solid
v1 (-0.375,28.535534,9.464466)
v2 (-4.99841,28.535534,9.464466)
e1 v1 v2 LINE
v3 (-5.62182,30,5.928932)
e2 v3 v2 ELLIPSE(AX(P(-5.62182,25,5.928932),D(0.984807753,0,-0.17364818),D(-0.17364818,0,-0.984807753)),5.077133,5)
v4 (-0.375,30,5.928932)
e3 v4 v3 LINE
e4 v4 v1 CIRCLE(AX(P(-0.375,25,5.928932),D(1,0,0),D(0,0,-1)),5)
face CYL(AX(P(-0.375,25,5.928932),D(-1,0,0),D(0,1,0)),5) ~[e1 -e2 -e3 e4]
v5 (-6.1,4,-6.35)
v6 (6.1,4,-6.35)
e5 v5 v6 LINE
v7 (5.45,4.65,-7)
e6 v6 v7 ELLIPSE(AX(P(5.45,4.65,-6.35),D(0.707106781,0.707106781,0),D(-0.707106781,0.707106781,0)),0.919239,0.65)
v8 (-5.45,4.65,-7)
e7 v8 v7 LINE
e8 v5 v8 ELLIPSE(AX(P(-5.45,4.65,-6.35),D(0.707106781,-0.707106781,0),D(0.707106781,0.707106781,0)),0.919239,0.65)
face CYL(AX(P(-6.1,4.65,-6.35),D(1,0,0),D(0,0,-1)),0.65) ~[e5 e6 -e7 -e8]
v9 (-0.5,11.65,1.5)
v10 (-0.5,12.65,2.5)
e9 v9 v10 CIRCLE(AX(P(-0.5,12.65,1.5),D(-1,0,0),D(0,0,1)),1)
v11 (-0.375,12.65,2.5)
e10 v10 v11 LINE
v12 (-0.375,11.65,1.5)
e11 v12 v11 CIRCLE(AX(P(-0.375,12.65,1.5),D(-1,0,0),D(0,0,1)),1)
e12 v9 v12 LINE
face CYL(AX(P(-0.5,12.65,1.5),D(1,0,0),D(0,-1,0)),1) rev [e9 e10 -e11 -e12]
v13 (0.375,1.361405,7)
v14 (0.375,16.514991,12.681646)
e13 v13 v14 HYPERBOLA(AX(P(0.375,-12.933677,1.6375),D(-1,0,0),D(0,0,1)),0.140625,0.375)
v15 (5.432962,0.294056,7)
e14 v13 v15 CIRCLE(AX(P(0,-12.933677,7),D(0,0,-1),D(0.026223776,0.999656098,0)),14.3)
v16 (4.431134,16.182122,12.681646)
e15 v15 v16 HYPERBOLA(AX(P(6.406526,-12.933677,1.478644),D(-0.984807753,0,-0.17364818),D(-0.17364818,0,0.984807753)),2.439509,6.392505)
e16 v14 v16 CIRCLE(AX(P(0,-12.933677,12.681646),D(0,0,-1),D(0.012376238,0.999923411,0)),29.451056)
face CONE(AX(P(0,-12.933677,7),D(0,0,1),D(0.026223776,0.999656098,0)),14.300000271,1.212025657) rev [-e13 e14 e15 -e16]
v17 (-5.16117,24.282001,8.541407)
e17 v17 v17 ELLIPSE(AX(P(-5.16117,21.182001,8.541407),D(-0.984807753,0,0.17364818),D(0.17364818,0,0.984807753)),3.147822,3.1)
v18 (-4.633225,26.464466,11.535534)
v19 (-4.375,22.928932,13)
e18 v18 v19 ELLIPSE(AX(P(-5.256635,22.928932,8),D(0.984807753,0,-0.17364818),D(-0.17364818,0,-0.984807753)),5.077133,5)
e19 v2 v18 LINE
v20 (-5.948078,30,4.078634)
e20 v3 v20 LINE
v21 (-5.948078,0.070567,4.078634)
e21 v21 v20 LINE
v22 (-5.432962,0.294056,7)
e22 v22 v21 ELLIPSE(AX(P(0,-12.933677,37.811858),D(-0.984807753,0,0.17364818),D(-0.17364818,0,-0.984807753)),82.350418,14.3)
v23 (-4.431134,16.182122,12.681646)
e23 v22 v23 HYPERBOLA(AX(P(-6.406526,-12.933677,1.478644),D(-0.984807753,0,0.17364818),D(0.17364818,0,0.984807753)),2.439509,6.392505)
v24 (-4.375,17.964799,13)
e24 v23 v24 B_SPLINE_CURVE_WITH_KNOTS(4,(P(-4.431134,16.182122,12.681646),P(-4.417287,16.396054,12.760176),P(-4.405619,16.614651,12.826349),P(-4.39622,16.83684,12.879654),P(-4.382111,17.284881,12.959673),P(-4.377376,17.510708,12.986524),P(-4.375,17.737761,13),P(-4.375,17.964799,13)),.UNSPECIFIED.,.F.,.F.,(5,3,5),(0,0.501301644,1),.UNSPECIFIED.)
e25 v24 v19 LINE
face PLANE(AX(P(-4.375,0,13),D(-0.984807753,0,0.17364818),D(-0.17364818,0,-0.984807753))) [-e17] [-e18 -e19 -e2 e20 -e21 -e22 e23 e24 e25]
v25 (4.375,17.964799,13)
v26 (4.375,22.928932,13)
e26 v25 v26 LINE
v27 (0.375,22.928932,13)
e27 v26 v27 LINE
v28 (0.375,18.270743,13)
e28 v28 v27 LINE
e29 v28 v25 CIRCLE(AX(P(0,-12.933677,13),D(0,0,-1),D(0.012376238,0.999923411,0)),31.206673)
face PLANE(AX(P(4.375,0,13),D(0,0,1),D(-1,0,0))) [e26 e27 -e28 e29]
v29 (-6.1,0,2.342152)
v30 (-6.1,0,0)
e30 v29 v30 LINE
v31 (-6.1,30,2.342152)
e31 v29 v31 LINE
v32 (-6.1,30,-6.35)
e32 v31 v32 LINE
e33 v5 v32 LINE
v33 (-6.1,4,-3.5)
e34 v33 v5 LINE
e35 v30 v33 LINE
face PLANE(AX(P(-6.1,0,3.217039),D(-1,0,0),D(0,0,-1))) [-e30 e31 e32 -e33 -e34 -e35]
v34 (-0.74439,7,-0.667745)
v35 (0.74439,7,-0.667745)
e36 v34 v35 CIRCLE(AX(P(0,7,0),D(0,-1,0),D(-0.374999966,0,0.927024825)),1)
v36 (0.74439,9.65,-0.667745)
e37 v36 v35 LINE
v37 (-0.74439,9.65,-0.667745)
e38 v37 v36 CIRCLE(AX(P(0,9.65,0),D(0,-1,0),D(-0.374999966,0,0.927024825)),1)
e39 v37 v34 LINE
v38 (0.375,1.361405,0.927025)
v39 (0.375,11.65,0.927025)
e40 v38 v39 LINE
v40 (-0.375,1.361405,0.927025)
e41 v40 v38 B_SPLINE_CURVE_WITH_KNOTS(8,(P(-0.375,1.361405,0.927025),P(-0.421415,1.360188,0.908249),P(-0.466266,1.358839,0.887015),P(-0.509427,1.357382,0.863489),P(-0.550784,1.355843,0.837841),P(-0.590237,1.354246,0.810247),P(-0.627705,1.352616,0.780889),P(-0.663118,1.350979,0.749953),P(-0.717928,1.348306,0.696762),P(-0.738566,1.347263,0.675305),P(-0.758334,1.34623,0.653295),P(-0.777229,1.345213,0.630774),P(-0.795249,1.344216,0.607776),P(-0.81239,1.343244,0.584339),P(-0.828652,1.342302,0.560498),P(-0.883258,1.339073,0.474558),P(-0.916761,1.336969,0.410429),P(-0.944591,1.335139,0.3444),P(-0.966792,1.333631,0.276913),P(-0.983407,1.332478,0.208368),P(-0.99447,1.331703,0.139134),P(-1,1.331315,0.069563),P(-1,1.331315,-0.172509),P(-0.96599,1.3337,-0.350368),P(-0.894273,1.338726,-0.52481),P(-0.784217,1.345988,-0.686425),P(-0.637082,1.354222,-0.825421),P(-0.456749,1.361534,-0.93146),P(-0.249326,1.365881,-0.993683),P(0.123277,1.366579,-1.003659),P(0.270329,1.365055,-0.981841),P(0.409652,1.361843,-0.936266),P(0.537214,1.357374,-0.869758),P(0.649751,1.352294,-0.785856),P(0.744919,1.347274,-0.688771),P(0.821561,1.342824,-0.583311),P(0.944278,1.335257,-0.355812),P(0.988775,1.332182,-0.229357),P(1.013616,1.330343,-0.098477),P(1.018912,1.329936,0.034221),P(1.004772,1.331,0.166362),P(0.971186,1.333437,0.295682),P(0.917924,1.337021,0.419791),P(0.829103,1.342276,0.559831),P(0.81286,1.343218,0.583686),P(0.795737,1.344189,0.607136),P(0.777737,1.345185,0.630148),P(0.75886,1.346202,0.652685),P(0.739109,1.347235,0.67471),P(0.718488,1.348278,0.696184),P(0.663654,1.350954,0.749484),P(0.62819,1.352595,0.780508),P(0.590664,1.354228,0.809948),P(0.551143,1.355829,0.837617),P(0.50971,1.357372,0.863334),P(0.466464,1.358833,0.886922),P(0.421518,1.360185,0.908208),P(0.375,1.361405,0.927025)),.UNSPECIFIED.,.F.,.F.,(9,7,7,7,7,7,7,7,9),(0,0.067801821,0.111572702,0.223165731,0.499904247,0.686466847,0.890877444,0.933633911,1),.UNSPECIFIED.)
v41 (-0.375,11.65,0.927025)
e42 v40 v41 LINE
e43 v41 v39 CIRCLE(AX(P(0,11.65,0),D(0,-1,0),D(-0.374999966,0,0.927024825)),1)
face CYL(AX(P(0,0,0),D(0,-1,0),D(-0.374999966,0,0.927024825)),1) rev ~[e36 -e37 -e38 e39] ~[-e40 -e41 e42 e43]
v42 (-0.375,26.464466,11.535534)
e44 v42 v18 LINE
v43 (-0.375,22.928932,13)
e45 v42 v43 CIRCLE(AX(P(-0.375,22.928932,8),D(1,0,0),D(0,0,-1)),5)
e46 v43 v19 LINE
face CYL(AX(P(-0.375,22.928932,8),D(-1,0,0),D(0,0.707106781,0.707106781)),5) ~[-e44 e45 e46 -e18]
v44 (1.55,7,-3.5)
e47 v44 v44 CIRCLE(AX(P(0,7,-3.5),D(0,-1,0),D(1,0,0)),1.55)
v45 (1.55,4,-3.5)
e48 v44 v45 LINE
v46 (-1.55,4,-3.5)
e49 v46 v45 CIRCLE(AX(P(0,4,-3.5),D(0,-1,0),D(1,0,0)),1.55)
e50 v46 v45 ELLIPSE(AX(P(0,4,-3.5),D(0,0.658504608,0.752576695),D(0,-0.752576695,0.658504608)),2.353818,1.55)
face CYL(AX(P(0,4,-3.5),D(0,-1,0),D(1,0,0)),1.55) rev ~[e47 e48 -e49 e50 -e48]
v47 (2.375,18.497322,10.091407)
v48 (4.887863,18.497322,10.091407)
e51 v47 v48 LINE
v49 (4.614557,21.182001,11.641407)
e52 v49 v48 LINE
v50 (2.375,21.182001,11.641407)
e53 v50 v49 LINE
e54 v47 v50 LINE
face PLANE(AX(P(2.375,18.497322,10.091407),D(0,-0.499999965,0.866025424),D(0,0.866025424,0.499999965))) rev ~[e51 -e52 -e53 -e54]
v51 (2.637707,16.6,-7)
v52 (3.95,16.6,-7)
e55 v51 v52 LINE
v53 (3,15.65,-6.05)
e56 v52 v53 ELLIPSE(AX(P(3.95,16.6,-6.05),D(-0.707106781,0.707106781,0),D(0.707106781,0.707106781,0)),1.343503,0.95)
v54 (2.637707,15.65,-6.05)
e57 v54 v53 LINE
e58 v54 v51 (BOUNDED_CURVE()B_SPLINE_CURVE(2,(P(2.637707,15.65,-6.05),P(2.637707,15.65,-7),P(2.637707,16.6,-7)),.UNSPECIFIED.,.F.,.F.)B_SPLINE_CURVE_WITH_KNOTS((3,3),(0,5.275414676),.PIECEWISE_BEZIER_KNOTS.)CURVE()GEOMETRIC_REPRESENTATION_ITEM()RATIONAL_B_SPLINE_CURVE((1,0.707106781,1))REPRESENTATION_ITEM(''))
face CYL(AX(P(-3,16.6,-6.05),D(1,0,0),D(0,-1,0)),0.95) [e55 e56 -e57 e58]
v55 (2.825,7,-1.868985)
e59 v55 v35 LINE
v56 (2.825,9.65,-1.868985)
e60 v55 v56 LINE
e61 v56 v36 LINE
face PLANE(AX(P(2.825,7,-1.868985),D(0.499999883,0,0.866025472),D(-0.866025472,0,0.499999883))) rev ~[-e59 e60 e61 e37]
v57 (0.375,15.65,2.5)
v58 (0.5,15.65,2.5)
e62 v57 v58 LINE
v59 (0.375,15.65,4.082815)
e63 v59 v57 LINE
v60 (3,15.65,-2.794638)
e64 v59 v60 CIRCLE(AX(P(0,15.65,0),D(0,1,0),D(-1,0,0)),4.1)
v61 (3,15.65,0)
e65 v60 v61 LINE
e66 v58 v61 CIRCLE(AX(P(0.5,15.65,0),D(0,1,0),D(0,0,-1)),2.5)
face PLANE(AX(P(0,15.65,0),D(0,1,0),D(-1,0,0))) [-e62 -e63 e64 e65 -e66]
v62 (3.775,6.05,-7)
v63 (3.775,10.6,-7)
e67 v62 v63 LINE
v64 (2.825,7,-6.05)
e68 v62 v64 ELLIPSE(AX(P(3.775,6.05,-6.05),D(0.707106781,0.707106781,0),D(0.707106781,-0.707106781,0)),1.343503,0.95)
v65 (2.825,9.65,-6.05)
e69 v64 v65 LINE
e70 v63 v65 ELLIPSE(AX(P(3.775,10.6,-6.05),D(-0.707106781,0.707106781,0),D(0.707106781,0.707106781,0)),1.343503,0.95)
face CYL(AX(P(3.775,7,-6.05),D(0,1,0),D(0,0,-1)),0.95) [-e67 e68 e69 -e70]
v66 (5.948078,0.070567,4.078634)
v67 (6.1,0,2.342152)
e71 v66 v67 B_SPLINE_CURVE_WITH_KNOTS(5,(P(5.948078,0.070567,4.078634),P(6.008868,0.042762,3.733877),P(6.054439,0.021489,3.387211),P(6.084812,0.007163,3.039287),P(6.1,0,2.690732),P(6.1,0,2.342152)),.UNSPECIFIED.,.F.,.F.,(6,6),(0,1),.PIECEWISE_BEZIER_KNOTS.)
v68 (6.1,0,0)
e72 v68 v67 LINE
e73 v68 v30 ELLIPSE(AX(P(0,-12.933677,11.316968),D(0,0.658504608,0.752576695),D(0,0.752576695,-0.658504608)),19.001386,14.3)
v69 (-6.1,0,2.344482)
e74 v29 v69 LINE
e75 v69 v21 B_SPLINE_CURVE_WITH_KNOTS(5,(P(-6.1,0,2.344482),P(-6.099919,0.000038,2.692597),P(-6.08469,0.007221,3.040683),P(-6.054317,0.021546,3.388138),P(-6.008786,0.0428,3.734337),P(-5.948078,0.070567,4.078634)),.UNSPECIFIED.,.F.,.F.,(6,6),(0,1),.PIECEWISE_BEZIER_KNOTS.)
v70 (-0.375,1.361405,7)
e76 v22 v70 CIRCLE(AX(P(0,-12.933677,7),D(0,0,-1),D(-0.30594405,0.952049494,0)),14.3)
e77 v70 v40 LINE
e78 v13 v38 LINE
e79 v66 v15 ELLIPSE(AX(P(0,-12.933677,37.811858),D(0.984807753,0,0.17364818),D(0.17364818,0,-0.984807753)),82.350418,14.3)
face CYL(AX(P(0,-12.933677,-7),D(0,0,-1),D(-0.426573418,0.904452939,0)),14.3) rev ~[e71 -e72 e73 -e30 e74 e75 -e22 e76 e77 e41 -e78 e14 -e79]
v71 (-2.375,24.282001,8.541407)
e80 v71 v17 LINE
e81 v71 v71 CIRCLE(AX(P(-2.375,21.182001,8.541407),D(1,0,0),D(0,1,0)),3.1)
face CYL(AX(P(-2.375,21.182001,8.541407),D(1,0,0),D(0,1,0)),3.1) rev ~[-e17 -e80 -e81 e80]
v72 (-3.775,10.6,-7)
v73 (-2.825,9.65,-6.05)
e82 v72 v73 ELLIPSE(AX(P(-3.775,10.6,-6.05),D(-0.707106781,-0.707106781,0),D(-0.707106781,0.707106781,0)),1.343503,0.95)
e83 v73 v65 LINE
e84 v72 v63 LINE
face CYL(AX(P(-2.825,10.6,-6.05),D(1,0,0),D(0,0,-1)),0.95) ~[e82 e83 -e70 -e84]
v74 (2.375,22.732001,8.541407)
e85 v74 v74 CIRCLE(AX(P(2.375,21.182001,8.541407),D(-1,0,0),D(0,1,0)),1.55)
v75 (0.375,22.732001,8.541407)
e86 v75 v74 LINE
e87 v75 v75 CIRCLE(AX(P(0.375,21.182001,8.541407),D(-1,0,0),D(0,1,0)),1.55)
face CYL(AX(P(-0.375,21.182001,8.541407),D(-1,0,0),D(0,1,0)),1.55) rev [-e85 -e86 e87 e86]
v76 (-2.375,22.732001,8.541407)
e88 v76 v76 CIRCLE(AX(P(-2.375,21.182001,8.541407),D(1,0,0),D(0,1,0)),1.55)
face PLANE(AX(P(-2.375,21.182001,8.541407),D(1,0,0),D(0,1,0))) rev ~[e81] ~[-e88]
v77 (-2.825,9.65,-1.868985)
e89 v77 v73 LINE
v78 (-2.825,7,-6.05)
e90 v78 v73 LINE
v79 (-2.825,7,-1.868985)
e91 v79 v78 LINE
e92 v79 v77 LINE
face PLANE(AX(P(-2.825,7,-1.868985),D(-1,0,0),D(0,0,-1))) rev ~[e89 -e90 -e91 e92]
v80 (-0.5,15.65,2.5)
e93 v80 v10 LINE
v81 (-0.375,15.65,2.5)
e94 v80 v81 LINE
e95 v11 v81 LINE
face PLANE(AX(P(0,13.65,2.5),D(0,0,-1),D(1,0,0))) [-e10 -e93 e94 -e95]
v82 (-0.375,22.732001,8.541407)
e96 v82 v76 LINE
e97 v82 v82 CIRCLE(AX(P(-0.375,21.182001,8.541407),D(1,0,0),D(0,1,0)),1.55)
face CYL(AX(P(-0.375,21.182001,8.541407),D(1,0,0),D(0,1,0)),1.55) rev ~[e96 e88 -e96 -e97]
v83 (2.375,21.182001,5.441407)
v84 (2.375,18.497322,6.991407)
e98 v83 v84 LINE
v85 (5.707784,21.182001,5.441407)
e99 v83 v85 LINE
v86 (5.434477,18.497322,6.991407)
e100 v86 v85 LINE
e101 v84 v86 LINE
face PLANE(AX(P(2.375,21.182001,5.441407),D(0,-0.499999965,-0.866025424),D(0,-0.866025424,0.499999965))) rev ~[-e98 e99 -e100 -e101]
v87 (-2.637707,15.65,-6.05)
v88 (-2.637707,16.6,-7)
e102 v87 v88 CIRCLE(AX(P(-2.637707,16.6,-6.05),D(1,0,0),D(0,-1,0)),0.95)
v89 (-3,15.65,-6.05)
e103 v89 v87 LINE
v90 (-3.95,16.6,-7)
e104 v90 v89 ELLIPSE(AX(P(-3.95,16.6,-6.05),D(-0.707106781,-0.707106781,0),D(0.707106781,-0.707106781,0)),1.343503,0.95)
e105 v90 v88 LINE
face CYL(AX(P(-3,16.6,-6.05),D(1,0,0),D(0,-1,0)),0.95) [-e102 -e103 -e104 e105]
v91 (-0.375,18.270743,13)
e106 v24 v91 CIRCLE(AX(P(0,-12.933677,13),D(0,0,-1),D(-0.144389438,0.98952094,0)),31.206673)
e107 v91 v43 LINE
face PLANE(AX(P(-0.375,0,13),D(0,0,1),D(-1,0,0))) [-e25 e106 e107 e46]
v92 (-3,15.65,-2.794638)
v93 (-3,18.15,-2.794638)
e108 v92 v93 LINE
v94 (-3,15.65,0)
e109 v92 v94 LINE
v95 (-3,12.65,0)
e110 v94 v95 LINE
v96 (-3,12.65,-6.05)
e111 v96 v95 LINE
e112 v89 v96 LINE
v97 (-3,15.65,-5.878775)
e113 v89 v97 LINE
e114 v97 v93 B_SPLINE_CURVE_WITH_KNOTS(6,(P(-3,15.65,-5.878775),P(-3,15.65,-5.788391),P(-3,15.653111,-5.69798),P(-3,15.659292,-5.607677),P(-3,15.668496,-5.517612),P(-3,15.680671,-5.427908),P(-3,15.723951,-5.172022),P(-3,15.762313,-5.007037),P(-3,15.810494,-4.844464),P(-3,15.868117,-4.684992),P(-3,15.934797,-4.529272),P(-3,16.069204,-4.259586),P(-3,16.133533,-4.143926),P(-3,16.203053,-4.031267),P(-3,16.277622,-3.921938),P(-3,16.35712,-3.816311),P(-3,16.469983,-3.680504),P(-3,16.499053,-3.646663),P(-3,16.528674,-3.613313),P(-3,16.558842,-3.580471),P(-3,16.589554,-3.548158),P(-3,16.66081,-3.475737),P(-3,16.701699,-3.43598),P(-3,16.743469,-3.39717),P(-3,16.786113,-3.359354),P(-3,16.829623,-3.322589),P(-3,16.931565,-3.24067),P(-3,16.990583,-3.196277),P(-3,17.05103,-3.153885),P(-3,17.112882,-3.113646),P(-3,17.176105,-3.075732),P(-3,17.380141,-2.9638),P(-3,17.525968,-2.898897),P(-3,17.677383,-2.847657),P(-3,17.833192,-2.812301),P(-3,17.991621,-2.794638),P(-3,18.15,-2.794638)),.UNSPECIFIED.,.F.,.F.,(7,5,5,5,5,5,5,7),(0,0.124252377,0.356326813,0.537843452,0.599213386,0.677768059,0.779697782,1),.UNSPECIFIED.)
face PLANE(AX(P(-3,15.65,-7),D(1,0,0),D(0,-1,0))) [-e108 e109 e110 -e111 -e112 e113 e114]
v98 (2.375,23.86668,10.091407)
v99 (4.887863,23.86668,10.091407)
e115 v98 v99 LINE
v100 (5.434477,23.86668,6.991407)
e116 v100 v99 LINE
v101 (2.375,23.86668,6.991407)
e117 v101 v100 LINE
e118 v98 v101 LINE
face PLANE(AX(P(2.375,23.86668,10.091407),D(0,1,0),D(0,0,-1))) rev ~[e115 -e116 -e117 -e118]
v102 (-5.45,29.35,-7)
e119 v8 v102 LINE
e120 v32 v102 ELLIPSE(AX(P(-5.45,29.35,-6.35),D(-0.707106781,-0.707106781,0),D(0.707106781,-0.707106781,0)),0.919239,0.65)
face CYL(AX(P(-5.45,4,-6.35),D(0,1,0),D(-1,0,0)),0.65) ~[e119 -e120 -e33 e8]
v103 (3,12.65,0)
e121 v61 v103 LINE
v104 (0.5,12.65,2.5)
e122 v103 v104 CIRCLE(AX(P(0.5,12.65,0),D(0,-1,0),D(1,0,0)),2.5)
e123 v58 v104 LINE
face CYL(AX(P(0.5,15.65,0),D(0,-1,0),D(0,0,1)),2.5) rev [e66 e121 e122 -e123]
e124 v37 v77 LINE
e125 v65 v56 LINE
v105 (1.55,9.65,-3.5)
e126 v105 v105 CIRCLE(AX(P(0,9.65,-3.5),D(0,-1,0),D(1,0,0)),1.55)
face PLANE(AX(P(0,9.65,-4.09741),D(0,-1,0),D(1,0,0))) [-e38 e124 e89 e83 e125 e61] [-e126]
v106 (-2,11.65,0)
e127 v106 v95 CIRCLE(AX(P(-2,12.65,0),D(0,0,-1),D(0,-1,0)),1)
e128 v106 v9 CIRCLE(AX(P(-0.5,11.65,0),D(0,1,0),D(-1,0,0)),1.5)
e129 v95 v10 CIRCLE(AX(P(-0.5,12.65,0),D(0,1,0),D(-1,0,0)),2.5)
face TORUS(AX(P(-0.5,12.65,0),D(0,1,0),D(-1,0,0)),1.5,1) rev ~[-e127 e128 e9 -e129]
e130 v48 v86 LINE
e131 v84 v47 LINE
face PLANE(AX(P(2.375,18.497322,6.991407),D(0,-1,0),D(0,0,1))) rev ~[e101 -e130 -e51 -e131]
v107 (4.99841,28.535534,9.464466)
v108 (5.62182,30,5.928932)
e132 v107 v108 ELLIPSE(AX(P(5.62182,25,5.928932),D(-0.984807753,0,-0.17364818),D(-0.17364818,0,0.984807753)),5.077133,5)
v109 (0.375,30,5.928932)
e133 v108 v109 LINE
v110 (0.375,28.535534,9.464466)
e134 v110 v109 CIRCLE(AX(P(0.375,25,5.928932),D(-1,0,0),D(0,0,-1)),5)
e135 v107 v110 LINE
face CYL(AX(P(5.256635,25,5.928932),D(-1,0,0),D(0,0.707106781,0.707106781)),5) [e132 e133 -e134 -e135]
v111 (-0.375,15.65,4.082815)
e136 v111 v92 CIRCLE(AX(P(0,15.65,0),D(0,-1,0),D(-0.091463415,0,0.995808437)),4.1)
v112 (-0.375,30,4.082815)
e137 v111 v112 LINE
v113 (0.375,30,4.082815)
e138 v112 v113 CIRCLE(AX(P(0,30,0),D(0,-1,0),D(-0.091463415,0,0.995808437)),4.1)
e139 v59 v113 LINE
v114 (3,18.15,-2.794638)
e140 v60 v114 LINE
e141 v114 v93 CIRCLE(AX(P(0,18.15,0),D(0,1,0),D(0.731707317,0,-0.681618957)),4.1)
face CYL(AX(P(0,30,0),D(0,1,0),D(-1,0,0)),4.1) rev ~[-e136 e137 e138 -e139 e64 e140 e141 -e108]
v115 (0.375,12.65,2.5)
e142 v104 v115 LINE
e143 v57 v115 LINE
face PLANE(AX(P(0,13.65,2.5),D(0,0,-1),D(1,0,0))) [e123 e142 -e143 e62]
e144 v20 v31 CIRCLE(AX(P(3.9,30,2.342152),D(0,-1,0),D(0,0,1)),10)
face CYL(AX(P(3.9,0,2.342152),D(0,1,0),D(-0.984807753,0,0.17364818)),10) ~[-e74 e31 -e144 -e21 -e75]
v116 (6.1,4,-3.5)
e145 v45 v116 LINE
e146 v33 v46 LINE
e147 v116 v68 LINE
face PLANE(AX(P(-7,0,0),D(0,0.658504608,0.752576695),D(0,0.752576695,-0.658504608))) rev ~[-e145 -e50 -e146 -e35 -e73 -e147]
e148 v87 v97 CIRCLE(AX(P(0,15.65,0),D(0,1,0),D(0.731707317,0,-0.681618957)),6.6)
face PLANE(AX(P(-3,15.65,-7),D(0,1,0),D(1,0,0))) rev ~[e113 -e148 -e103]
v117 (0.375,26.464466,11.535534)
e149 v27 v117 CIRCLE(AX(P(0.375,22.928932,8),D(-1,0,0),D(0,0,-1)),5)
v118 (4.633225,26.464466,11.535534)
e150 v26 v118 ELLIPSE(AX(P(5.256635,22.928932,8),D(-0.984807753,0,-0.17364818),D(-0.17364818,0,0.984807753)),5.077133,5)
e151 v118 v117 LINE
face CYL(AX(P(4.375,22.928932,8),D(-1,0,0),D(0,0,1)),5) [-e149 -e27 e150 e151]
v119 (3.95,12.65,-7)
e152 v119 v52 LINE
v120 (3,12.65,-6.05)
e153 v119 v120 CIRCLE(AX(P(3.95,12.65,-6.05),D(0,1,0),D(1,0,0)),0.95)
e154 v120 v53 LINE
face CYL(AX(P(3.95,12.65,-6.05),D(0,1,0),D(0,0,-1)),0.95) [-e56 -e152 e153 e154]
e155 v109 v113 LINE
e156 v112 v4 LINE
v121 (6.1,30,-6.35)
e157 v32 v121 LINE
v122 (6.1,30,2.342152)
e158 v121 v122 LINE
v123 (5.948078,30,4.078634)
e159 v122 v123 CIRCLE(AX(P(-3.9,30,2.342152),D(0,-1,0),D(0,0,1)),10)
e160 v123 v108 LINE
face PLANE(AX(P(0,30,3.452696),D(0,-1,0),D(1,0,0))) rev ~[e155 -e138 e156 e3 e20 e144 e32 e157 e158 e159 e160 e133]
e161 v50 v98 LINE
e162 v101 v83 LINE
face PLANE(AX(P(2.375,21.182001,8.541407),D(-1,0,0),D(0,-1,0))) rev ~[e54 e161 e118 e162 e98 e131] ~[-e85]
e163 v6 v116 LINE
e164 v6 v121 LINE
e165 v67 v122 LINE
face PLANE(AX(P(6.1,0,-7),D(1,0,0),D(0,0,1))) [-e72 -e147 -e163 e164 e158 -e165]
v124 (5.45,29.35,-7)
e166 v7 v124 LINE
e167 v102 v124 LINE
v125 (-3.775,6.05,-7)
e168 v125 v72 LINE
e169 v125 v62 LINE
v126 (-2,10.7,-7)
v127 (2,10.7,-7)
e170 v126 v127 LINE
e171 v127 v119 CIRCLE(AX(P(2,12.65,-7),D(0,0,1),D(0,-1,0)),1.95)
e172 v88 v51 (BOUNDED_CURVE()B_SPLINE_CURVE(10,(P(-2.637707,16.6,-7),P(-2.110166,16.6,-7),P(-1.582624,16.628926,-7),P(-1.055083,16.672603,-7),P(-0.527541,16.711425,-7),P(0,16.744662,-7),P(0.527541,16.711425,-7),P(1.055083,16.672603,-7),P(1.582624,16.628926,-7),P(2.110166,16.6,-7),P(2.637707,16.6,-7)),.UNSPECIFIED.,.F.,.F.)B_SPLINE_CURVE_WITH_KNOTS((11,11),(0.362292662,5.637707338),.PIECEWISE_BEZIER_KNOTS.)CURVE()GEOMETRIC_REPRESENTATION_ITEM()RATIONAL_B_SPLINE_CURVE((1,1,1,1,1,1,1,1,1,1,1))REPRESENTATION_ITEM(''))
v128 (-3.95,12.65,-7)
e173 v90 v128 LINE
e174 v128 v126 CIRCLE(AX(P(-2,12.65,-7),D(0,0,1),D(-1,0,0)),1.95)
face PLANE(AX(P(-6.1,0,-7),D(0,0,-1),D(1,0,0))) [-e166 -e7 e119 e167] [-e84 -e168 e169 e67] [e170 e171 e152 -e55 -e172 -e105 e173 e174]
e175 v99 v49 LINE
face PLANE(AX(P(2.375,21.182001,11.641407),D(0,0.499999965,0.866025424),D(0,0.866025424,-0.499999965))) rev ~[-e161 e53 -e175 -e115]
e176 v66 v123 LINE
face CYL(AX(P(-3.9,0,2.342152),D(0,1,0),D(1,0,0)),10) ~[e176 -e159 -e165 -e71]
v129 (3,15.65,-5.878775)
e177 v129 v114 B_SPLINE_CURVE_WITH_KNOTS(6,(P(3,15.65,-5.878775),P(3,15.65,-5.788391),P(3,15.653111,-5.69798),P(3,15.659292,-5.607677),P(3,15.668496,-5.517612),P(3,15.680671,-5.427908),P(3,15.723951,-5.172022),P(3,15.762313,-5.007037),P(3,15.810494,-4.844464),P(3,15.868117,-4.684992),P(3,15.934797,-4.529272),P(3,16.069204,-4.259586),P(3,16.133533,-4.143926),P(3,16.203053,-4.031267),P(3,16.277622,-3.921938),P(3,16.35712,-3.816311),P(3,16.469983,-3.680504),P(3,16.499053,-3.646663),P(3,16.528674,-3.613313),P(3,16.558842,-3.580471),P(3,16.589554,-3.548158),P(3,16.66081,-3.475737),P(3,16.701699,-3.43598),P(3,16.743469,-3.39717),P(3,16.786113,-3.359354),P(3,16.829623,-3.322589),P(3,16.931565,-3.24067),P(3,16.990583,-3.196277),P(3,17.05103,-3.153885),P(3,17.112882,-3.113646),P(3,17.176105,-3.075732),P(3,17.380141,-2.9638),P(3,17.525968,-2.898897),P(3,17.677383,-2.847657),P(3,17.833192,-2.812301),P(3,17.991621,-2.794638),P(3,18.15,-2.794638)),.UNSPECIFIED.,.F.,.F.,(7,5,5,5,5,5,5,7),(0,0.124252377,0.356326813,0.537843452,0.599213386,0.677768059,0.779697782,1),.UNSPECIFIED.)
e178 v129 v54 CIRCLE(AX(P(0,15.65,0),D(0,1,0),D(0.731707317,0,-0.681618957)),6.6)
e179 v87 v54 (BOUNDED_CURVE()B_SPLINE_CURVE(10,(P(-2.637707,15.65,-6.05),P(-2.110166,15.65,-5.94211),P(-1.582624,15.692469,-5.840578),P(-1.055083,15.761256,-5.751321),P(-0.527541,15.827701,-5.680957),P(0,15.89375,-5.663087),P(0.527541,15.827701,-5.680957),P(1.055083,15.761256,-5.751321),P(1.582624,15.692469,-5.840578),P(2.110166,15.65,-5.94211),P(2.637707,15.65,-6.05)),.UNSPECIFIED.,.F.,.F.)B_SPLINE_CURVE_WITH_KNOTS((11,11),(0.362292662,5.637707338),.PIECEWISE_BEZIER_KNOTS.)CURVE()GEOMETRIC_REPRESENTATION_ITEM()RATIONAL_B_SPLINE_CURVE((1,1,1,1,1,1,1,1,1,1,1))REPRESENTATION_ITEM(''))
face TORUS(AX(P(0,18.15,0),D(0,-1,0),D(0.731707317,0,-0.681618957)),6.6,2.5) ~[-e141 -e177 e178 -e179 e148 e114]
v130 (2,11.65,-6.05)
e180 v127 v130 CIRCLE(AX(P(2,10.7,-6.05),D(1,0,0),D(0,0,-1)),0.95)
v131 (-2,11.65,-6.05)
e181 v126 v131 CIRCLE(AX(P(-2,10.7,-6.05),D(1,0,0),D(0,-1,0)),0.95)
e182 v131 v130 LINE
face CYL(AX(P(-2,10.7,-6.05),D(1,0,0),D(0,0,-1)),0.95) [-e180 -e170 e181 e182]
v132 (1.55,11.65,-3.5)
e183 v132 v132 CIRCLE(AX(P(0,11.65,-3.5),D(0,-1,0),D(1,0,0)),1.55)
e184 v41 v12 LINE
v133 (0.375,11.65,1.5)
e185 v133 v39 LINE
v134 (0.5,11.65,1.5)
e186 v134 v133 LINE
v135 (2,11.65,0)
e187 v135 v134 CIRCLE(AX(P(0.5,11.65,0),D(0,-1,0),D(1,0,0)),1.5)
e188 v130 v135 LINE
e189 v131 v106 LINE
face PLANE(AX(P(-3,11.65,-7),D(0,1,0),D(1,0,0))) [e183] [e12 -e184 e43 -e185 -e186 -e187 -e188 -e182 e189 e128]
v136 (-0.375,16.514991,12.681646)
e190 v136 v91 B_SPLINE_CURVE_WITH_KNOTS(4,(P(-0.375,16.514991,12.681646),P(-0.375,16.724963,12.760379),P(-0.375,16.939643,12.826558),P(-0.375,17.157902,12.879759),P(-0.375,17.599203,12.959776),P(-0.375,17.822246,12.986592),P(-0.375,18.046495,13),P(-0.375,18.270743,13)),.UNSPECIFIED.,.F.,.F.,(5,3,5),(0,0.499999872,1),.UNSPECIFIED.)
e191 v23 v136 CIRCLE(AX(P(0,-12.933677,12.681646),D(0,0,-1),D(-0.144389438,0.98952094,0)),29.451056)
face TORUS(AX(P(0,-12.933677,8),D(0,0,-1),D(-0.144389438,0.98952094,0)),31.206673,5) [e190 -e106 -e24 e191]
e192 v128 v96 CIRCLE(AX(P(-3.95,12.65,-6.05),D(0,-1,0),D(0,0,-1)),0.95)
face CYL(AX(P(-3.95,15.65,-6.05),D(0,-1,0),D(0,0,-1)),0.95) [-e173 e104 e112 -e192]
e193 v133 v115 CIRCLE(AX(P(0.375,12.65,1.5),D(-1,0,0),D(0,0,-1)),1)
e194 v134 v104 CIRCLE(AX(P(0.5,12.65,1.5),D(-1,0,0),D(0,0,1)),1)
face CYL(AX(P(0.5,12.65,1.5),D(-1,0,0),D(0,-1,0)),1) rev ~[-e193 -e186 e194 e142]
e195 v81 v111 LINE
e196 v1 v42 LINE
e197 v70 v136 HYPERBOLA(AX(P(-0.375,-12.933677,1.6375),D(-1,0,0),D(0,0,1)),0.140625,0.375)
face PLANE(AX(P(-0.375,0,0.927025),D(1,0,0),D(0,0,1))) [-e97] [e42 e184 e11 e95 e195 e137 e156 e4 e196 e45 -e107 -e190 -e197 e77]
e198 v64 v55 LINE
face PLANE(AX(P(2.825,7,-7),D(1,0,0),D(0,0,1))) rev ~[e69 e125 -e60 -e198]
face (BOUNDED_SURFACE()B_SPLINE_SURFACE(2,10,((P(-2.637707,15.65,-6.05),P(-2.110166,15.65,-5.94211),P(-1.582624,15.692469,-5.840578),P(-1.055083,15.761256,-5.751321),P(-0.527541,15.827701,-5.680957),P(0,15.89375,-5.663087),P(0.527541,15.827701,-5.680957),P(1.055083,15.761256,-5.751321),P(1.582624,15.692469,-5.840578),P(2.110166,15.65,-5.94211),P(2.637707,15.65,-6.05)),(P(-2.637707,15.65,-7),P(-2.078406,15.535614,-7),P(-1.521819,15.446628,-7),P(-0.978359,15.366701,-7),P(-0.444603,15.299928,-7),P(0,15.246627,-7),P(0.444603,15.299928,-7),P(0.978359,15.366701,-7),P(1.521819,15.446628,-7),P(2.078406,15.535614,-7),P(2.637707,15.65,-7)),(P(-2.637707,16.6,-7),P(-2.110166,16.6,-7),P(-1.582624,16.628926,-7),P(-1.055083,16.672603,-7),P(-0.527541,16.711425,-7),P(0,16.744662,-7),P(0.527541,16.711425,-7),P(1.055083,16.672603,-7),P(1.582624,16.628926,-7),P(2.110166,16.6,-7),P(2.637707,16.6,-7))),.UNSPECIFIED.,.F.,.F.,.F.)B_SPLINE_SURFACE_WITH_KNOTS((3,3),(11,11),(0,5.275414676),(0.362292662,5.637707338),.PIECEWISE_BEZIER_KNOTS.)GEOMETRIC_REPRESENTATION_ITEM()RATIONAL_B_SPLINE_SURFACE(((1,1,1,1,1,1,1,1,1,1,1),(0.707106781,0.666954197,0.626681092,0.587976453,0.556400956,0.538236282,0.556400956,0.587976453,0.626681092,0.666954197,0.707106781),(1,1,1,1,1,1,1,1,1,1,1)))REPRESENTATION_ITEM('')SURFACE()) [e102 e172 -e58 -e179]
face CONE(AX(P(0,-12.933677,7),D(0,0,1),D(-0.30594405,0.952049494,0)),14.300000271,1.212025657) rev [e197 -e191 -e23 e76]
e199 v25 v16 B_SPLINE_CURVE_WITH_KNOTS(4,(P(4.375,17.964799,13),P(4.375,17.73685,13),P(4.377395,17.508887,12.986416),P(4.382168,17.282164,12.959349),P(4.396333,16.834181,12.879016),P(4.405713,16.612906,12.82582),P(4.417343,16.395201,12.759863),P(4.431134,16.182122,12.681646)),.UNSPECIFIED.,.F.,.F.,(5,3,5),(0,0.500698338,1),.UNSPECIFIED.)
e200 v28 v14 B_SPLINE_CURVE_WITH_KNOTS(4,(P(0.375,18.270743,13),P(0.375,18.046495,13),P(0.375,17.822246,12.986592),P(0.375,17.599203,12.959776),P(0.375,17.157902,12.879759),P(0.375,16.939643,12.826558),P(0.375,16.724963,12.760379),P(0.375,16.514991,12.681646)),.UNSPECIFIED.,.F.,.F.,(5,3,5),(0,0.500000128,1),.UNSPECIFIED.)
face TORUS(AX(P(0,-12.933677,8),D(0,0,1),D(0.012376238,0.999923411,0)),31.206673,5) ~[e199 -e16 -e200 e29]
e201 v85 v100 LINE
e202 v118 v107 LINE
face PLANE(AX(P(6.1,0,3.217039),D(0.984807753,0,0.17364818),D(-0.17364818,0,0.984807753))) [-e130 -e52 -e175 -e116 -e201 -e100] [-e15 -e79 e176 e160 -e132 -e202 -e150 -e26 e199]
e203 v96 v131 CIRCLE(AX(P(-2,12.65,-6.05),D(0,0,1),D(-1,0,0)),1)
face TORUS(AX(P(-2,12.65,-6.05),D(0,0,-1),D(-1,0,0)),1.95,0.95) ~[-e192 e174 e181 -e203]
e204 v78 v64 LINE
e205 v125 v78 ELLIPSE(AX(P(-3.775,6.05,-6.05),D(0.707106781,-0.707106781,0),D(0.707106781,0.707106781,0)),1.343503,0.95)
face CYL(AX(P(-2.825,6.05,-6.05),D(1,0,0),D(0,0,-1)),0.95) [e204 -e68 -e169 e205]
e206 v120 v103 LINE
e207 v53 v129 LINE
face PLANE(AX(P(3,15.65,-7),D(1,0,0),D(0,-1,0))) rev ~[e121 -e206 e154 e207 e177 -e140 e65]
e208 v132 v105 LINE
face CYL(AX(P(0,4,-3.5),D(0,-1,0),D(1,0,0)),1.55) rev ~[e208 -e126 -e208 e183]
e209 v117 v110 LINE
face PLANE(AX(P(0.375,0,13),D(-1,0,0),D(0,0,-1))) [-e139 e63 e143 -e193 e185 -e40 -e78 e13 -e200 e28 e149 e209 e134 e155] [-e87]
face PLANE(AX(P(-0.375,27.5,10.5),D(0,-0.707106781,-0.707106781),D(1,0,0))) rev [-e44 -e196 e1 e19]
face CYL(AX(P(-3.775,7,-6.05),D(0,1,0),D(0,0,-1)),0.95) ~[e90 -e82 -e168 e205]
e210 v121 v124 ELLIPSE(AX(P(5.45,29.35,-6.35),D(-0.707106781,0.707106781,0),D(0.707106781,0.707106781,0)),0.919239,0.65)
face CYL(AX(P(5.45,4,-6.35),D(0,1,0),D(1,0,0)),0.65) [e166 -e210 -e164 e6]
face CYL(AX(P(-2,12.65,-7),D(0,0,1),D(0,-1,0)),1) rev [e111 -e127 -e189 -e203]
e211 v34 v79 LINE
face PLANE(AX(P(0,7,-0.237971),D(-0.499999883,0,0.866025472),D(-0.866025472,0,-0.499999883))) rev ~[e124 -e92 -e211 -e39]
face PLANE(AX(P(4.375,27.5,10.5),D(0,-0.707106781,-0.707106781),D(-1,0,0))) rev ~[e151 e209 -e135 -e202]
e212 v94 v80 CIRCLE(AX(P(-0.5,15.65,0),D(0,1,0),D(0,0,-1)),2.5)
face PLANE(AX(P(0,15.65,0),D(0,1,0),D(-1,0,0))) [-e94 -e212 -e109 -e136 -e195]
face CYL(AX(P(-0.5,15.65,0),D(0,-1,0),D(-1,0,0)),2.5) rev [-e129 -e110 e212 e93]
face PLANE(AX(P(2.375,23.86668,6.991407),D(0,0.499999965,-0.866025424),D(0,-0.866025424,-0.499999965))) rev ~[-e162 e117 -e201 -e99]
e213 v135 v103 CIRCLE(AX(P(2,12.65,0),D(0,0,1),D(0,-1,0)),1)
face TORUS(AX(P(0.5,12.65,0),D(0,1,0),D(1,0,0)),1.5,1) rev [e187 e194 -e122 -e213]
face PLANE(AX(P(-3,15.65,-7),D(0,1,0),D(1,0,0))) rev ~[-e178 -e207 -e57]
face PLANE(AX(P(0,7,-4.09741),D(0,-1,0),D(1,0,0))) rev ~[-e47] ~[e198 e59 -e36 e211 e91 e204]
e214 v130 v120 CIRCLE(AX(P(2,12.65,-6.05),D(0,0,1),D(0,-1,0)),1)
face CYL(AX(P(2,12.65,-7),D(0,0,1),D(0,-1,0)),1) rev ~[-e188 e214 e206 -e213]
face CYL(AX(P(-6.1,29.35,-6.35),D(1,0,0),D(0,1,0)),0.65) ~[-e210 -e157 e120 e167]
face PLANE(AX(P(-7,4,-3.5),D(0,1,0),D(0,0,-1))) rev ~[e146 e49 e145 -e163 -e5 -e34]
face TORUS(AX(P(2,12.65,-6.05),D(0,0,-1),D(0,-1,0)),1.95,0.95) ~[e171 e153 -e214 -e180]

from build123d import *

# Parameters (mm, degrees)
EXTRUDE004_DEPTH                     = 10
SKETCH008_R                          = 3.1
EXTRUDE003_DEPTH                     = 10
EXTRUDE002_DEPTH                     = 2.65
EXTRUDE002_ONTO_SKETCH004_ROLL_ANGLE = 90
EXTRUDE001_DEPTH                     = 14
EXTRUDE_DEPTH                        = 30
EXTRUDE_ONTO_SKETCH_ROLL_ANGLE       = 90
FILLET_R                             = 10
POCKET_DEPTH                         = 20.001
SKETCH003_R                          = 1.55
POCKET001_DEPTH                      = 8
SKETCH005_W                          = 6
SKETCH005_H                          = 4
POCKET002_DEPTH                      = 9.5
SKETCH006_R                          = 4.1
POCKET003_DEPTH                      = 14.35
FILLET001_R                          = 2.5
FILLET002_R                          = 1
FILLET003_R                          = 2.5
FILLET004_R                          = 0.95
CHAMFER_SIZE2                        = 16
CHAMFER_SIZE                         = 6
CHAMFER001_SIZE                      = 5
SKETCH007_R                          = 1.55
POCKET004_DEPTH                      = 5.726
POCKET004_DEPTH_BACK                 = 6.476
FILLET005_R                          = 5
FILLET006_R                          = 0.65


with BuildPart() as extrude004:
    # Sketch009 → Extrude004 (new body)
    with BuildSketch(Plane(origin=(0.375, 0, 0), x_dir=(0, -1, 0), z_dir=(-1, 0, 0))):
        Polygon((-21.182001, 11.641407), (-23.86668, 10.091407), (-23.86668, 6.991407), (-21.182001, 5.441407), (-18.497322, 6.991407), (-18.497322, 10.091407), align=None)
    extrude(amount=-EXTRUDE004_DEPTH)


with BuildPart() as extrude004_1:
    # Extrude004 placement: moved
    add(extrude004.part.moved(Location((2, 0, 0))))


with BuildPart() as extrude003:
    # Sketch008 → Extrude003 (new body)
    with BuildSketch(Plane.YZ.offset(-0.375)):
        with Locations((21.182001, 8.541407)):
            Circle(SKETCH008_R)
    extrude(amount=-EXTRUDE003_DEPTH)


with BuildPart() as extrude003_1:
    # Extrude003 placement: moved
    add(extrude003.part.moved(Location((-2, 0, 0))))


with BuildPart() as extrude002:
    # Sketch004 as drawn → Extrude002 (new)
    with BuildSketch(Plane.XY):
        Polygon((0, -0.237971), (-2.825, -1.868985), (-2.825, -7), (2.825, -7), (2.825, -1.868985), align=None)
    extrude(amount=-EXTRUDE002_DEPTH)


with BuildPart() as extrude002_1:
    # Extrude002 onto Sketch004 roll: moved
    add(extrude002.part.rotate(Axis((0, 0, 0), (1, 0, 0)), EXTRUDE002_ONTO_SKETCH004_ROLL_ANGLE))


with BuildPart() as extrude002_2:
    # Extrude002 onto Sketch004 placement: moved
    add(extrude002_1.part.moved(Location((0, 4, 0))))


with BuildPart() as extrude002_3:
    # Extrude002 placement: moved
    add(extrude002_2.part.moved(Location((0, 3, 0))))


with BuildPart() as extrude001:
    # Sketch001 → Extrude001 (new body)
    with BuildSketch(Plane.YZ):
        Polygon((0, -7), (0, 0), (4, -3.5), (4, -7), align=None)
    extrude(amount=EXTRUDE001_DEPTH)


with BuildPart() as extrude001_1:
    # Extrude001 placement: moved
    add(extrude001.part.moved(Location((-7, 0, 0))))


with BuildPart() as fillet006:
    # Sketch as drawn → Extrude (new)
    with BuildSketch(Plane.XY):
        with BuildLine():
            Line((-6.1, -7), (6.1, -7))
            Line((6.1, -7), (6.1, 3.217039))
            Line((6.1, 3.217039), (4.375, 13))
            Line((4.375, 13), (0.375, 13))
            Line((0.375, 13), (0.375, 0.927025))
            ThreePointArc((-0.375, 0.927025), (0, -1), (0.375, 0.927025))
            Line((-0.375, 0.927025), (-0.375, 13))
            Line((-0.375, 13), (-4.375, 13))
            Line((-4.375, 13), (-6.1, 3.217039))
            Line((-6.1, 3.217039), (-6.1, -7))
        make_face()
    extrude(amount=-EXTRUDE_DEPTH)


with BuildPart() as fillet006_1:
    # Extrude onto Sketch roll: moved
    add(fillet006.part.rotate(Axis((0, 0, 0), (1, 0, 0)), EXTRUDE_ONTO_SKETCH_ROLL_ANGLE))


with BuildPart() as fillet006_2:
    # Extrude onto Sketch placement: moved
    add(fillet006_1.part)

    # Fillet
    fillet_edges = [fillet006_2.edges().sort_by_distance(p)[0] for p in [
        (-6.1, 15, 3.217039),
        (6.1, 15, 3.217039),
    ]]
    fillet(fillet_edges, radius=FILLET_R)

    # Sketch002 → Pocket (cut, through all)
    with BuildSketch(Plane(origin=(0, 0, -7), x_dir=(1, 0, 0), z_dir=(0, 0, -1))):
        with BuildLine():
            Line((-6.1, 0), (6.1, 0))
            ThreePointArc((-6.1, 0), (0, -1.366323), (6.1, 0))
        make_face()
    extrude(amount=-POCKET_DEPTH, mode=Mode.SUBTRACT)

    # Cut: cut Extrude001
    add(extrude001_1.part, mode=Mode.SUBTRACT)

    # Sketch003 → Pocket001 (cut, symmetric)
    with BuildSketch(Plane.XZ.offset(-4)):
        with Locations((0, -3.5)):
            Circle(SKETCH003_R)
    extrude(amount=POCKET001_DEPTH, both=True, mode=Mode.SUBTRACT)

    # Cut001: cut Extrude002
    add(extrude002_3.part, mode=Mode.SUBTRACT)

    # Sketch005 → Pocket002 (cut)
    with BuildSketch(Plane(origin=(0, 0, -7), x_dir=(1, 0, 0), z_dir=(0, 0, -1))):
        with Locations((0, -13.65)):
            Rectangle(SKETCH005_W, SKETCH005_H)
    extrude(amount=-POCKET002_DEPTH, mode=Mode.SUBTRACT)

    # Sketch006 → Pocket003 (cut)
    with BuildSketch(Plane(origin=(0, 30, 0), x_dir=(-1, 0, 0), z_dir=(0, 1, 0))):
        Circle(SKETCH006_R)
    extrude(amount=-POCKET003_DEPTH, mode=Mode.SUBTRACT)

    # Fillet001
    fillet001_edges = [fillet006_2.edges().sort_by_distance(p)[0] for p in [
        (-3, 13.65, 2.5),
        (3, 13.65, 2.5),
    ]]
    fillet(fillet001_edges, radius=FILLET001_R)

    # Fillet002
    fillet002_edges = [fillet006_2.edges().sort_by_distance(p)[0] for p in [
        (-3, 11.65, -3.5),
        (-2.267767, 11.65, 1.767767),
        (-0.4375, 11.65, 2.5),
        (3, 11.65, -3.5),
        (2.267767, 11.65, 1.767767),
        (0.4375, 11.65, 2.5),
    ]]
    fillet(fillet002_edges, radius=FILLET002_R)

    # Fillet003
    fillet003_edges = [fillet006_2.edges().sort_by_distance(p)[0] for p in [
        (0, 15.65, -4.1),
    ]]
    fillet(fillet003_edges, radius=FILLET003_R)

    # Fillet004
    fillet004_edges = [fillet006_2.edges().sort_by_distance(p)[0] for p in [
        (-3, 14.15, -7),
        (0, 15.65, -7),
        (-2.707107, 11.942893, -7),
        (0, 11.65, -7),
        (3, 14.15, -7),
        (2.707107, 11.942893, -7),
        (-2.825, 8.325, -7),
        (0, 7, -7),
        (0, 9.65, -7),
        (2.825, 8.325, -7),
    ]]
    fillet(fillet004_edges, radius=FILLET004_R)

    # Chamfer
    chamfer_edges = [fillet006_2.edges().sort_by_distance(p)[0] for p in [
        (2.399268, 1.16361, 13),
        (-2.399268, 1.16361, 13),
    ]]
    chamfer_side = fillet006_2.faces().sort_by_distance((0, 1.366323, -1.007857))[0]
    chamfer(chamfer_edges, length=CHAMFER_SIZE, length2=CHAMFER_SIZE2, reference=chamfer_side)

    # Chamfer001
    chamfer001_edges = [fillet006_2.edges().sort_by_distance(p)[0] for p in [
        (2.375, 30, 13),
        (-2.375, 30, 13),
    ]]
    chamfer(chamfer001_edges, length=CHAMFER001_SIZE)

    # Sketch007 → Pocket004 (cut, two sides)
    with BuildSketch(Plane.YZ.offset(-0.375)) as pocket004_sk:
        with Locations((21.182001, 8.541407)):
            Circle(SKETCH007_R)
    extrude(amount=-POCKET004_DEPTH, mode=Mode.SUBTRACT)
    extrude(pocket004_sk.sketch, amount=POCKET004_DEPTH_BACK, mode=Mode.SUBTRACT)

    # Fillet005
    fillet005_edges = [fillet006_2.edges().sort_by_distance(p)[0] for p in [
        (2.375, 25, 13),
        (2.380223, 17.272689, 13),
        (2.815817, 30, 8),
        (-2.815817, 30, 8),
        (-2.375, 25, 13),
        (-2.380223, 17.272689, 13),
    ]]
    fillet(fillet005_edges, radius=FILLET005_R)

    # Cut002: cut Extrude003
    add(extrude003_1.part, mode=Mode.SUBTRACT)

    # Cut003: cut Extrude004
    add(extrude004_1.part, mode=Mode.SUBTRACT)

    # Fillet006
    fillet006_edges = [fillet006_2.edges().sort_by_distance(p)[0] for p in [
        (0, 30, -7),
        (6.1, 17, -7),
        (-6.1, 17, -7),
        (0, 4, -7),
    ]]
    fillet(fillet006_edges, radius=FILLET006_R)


solid = fillet006_2.part
